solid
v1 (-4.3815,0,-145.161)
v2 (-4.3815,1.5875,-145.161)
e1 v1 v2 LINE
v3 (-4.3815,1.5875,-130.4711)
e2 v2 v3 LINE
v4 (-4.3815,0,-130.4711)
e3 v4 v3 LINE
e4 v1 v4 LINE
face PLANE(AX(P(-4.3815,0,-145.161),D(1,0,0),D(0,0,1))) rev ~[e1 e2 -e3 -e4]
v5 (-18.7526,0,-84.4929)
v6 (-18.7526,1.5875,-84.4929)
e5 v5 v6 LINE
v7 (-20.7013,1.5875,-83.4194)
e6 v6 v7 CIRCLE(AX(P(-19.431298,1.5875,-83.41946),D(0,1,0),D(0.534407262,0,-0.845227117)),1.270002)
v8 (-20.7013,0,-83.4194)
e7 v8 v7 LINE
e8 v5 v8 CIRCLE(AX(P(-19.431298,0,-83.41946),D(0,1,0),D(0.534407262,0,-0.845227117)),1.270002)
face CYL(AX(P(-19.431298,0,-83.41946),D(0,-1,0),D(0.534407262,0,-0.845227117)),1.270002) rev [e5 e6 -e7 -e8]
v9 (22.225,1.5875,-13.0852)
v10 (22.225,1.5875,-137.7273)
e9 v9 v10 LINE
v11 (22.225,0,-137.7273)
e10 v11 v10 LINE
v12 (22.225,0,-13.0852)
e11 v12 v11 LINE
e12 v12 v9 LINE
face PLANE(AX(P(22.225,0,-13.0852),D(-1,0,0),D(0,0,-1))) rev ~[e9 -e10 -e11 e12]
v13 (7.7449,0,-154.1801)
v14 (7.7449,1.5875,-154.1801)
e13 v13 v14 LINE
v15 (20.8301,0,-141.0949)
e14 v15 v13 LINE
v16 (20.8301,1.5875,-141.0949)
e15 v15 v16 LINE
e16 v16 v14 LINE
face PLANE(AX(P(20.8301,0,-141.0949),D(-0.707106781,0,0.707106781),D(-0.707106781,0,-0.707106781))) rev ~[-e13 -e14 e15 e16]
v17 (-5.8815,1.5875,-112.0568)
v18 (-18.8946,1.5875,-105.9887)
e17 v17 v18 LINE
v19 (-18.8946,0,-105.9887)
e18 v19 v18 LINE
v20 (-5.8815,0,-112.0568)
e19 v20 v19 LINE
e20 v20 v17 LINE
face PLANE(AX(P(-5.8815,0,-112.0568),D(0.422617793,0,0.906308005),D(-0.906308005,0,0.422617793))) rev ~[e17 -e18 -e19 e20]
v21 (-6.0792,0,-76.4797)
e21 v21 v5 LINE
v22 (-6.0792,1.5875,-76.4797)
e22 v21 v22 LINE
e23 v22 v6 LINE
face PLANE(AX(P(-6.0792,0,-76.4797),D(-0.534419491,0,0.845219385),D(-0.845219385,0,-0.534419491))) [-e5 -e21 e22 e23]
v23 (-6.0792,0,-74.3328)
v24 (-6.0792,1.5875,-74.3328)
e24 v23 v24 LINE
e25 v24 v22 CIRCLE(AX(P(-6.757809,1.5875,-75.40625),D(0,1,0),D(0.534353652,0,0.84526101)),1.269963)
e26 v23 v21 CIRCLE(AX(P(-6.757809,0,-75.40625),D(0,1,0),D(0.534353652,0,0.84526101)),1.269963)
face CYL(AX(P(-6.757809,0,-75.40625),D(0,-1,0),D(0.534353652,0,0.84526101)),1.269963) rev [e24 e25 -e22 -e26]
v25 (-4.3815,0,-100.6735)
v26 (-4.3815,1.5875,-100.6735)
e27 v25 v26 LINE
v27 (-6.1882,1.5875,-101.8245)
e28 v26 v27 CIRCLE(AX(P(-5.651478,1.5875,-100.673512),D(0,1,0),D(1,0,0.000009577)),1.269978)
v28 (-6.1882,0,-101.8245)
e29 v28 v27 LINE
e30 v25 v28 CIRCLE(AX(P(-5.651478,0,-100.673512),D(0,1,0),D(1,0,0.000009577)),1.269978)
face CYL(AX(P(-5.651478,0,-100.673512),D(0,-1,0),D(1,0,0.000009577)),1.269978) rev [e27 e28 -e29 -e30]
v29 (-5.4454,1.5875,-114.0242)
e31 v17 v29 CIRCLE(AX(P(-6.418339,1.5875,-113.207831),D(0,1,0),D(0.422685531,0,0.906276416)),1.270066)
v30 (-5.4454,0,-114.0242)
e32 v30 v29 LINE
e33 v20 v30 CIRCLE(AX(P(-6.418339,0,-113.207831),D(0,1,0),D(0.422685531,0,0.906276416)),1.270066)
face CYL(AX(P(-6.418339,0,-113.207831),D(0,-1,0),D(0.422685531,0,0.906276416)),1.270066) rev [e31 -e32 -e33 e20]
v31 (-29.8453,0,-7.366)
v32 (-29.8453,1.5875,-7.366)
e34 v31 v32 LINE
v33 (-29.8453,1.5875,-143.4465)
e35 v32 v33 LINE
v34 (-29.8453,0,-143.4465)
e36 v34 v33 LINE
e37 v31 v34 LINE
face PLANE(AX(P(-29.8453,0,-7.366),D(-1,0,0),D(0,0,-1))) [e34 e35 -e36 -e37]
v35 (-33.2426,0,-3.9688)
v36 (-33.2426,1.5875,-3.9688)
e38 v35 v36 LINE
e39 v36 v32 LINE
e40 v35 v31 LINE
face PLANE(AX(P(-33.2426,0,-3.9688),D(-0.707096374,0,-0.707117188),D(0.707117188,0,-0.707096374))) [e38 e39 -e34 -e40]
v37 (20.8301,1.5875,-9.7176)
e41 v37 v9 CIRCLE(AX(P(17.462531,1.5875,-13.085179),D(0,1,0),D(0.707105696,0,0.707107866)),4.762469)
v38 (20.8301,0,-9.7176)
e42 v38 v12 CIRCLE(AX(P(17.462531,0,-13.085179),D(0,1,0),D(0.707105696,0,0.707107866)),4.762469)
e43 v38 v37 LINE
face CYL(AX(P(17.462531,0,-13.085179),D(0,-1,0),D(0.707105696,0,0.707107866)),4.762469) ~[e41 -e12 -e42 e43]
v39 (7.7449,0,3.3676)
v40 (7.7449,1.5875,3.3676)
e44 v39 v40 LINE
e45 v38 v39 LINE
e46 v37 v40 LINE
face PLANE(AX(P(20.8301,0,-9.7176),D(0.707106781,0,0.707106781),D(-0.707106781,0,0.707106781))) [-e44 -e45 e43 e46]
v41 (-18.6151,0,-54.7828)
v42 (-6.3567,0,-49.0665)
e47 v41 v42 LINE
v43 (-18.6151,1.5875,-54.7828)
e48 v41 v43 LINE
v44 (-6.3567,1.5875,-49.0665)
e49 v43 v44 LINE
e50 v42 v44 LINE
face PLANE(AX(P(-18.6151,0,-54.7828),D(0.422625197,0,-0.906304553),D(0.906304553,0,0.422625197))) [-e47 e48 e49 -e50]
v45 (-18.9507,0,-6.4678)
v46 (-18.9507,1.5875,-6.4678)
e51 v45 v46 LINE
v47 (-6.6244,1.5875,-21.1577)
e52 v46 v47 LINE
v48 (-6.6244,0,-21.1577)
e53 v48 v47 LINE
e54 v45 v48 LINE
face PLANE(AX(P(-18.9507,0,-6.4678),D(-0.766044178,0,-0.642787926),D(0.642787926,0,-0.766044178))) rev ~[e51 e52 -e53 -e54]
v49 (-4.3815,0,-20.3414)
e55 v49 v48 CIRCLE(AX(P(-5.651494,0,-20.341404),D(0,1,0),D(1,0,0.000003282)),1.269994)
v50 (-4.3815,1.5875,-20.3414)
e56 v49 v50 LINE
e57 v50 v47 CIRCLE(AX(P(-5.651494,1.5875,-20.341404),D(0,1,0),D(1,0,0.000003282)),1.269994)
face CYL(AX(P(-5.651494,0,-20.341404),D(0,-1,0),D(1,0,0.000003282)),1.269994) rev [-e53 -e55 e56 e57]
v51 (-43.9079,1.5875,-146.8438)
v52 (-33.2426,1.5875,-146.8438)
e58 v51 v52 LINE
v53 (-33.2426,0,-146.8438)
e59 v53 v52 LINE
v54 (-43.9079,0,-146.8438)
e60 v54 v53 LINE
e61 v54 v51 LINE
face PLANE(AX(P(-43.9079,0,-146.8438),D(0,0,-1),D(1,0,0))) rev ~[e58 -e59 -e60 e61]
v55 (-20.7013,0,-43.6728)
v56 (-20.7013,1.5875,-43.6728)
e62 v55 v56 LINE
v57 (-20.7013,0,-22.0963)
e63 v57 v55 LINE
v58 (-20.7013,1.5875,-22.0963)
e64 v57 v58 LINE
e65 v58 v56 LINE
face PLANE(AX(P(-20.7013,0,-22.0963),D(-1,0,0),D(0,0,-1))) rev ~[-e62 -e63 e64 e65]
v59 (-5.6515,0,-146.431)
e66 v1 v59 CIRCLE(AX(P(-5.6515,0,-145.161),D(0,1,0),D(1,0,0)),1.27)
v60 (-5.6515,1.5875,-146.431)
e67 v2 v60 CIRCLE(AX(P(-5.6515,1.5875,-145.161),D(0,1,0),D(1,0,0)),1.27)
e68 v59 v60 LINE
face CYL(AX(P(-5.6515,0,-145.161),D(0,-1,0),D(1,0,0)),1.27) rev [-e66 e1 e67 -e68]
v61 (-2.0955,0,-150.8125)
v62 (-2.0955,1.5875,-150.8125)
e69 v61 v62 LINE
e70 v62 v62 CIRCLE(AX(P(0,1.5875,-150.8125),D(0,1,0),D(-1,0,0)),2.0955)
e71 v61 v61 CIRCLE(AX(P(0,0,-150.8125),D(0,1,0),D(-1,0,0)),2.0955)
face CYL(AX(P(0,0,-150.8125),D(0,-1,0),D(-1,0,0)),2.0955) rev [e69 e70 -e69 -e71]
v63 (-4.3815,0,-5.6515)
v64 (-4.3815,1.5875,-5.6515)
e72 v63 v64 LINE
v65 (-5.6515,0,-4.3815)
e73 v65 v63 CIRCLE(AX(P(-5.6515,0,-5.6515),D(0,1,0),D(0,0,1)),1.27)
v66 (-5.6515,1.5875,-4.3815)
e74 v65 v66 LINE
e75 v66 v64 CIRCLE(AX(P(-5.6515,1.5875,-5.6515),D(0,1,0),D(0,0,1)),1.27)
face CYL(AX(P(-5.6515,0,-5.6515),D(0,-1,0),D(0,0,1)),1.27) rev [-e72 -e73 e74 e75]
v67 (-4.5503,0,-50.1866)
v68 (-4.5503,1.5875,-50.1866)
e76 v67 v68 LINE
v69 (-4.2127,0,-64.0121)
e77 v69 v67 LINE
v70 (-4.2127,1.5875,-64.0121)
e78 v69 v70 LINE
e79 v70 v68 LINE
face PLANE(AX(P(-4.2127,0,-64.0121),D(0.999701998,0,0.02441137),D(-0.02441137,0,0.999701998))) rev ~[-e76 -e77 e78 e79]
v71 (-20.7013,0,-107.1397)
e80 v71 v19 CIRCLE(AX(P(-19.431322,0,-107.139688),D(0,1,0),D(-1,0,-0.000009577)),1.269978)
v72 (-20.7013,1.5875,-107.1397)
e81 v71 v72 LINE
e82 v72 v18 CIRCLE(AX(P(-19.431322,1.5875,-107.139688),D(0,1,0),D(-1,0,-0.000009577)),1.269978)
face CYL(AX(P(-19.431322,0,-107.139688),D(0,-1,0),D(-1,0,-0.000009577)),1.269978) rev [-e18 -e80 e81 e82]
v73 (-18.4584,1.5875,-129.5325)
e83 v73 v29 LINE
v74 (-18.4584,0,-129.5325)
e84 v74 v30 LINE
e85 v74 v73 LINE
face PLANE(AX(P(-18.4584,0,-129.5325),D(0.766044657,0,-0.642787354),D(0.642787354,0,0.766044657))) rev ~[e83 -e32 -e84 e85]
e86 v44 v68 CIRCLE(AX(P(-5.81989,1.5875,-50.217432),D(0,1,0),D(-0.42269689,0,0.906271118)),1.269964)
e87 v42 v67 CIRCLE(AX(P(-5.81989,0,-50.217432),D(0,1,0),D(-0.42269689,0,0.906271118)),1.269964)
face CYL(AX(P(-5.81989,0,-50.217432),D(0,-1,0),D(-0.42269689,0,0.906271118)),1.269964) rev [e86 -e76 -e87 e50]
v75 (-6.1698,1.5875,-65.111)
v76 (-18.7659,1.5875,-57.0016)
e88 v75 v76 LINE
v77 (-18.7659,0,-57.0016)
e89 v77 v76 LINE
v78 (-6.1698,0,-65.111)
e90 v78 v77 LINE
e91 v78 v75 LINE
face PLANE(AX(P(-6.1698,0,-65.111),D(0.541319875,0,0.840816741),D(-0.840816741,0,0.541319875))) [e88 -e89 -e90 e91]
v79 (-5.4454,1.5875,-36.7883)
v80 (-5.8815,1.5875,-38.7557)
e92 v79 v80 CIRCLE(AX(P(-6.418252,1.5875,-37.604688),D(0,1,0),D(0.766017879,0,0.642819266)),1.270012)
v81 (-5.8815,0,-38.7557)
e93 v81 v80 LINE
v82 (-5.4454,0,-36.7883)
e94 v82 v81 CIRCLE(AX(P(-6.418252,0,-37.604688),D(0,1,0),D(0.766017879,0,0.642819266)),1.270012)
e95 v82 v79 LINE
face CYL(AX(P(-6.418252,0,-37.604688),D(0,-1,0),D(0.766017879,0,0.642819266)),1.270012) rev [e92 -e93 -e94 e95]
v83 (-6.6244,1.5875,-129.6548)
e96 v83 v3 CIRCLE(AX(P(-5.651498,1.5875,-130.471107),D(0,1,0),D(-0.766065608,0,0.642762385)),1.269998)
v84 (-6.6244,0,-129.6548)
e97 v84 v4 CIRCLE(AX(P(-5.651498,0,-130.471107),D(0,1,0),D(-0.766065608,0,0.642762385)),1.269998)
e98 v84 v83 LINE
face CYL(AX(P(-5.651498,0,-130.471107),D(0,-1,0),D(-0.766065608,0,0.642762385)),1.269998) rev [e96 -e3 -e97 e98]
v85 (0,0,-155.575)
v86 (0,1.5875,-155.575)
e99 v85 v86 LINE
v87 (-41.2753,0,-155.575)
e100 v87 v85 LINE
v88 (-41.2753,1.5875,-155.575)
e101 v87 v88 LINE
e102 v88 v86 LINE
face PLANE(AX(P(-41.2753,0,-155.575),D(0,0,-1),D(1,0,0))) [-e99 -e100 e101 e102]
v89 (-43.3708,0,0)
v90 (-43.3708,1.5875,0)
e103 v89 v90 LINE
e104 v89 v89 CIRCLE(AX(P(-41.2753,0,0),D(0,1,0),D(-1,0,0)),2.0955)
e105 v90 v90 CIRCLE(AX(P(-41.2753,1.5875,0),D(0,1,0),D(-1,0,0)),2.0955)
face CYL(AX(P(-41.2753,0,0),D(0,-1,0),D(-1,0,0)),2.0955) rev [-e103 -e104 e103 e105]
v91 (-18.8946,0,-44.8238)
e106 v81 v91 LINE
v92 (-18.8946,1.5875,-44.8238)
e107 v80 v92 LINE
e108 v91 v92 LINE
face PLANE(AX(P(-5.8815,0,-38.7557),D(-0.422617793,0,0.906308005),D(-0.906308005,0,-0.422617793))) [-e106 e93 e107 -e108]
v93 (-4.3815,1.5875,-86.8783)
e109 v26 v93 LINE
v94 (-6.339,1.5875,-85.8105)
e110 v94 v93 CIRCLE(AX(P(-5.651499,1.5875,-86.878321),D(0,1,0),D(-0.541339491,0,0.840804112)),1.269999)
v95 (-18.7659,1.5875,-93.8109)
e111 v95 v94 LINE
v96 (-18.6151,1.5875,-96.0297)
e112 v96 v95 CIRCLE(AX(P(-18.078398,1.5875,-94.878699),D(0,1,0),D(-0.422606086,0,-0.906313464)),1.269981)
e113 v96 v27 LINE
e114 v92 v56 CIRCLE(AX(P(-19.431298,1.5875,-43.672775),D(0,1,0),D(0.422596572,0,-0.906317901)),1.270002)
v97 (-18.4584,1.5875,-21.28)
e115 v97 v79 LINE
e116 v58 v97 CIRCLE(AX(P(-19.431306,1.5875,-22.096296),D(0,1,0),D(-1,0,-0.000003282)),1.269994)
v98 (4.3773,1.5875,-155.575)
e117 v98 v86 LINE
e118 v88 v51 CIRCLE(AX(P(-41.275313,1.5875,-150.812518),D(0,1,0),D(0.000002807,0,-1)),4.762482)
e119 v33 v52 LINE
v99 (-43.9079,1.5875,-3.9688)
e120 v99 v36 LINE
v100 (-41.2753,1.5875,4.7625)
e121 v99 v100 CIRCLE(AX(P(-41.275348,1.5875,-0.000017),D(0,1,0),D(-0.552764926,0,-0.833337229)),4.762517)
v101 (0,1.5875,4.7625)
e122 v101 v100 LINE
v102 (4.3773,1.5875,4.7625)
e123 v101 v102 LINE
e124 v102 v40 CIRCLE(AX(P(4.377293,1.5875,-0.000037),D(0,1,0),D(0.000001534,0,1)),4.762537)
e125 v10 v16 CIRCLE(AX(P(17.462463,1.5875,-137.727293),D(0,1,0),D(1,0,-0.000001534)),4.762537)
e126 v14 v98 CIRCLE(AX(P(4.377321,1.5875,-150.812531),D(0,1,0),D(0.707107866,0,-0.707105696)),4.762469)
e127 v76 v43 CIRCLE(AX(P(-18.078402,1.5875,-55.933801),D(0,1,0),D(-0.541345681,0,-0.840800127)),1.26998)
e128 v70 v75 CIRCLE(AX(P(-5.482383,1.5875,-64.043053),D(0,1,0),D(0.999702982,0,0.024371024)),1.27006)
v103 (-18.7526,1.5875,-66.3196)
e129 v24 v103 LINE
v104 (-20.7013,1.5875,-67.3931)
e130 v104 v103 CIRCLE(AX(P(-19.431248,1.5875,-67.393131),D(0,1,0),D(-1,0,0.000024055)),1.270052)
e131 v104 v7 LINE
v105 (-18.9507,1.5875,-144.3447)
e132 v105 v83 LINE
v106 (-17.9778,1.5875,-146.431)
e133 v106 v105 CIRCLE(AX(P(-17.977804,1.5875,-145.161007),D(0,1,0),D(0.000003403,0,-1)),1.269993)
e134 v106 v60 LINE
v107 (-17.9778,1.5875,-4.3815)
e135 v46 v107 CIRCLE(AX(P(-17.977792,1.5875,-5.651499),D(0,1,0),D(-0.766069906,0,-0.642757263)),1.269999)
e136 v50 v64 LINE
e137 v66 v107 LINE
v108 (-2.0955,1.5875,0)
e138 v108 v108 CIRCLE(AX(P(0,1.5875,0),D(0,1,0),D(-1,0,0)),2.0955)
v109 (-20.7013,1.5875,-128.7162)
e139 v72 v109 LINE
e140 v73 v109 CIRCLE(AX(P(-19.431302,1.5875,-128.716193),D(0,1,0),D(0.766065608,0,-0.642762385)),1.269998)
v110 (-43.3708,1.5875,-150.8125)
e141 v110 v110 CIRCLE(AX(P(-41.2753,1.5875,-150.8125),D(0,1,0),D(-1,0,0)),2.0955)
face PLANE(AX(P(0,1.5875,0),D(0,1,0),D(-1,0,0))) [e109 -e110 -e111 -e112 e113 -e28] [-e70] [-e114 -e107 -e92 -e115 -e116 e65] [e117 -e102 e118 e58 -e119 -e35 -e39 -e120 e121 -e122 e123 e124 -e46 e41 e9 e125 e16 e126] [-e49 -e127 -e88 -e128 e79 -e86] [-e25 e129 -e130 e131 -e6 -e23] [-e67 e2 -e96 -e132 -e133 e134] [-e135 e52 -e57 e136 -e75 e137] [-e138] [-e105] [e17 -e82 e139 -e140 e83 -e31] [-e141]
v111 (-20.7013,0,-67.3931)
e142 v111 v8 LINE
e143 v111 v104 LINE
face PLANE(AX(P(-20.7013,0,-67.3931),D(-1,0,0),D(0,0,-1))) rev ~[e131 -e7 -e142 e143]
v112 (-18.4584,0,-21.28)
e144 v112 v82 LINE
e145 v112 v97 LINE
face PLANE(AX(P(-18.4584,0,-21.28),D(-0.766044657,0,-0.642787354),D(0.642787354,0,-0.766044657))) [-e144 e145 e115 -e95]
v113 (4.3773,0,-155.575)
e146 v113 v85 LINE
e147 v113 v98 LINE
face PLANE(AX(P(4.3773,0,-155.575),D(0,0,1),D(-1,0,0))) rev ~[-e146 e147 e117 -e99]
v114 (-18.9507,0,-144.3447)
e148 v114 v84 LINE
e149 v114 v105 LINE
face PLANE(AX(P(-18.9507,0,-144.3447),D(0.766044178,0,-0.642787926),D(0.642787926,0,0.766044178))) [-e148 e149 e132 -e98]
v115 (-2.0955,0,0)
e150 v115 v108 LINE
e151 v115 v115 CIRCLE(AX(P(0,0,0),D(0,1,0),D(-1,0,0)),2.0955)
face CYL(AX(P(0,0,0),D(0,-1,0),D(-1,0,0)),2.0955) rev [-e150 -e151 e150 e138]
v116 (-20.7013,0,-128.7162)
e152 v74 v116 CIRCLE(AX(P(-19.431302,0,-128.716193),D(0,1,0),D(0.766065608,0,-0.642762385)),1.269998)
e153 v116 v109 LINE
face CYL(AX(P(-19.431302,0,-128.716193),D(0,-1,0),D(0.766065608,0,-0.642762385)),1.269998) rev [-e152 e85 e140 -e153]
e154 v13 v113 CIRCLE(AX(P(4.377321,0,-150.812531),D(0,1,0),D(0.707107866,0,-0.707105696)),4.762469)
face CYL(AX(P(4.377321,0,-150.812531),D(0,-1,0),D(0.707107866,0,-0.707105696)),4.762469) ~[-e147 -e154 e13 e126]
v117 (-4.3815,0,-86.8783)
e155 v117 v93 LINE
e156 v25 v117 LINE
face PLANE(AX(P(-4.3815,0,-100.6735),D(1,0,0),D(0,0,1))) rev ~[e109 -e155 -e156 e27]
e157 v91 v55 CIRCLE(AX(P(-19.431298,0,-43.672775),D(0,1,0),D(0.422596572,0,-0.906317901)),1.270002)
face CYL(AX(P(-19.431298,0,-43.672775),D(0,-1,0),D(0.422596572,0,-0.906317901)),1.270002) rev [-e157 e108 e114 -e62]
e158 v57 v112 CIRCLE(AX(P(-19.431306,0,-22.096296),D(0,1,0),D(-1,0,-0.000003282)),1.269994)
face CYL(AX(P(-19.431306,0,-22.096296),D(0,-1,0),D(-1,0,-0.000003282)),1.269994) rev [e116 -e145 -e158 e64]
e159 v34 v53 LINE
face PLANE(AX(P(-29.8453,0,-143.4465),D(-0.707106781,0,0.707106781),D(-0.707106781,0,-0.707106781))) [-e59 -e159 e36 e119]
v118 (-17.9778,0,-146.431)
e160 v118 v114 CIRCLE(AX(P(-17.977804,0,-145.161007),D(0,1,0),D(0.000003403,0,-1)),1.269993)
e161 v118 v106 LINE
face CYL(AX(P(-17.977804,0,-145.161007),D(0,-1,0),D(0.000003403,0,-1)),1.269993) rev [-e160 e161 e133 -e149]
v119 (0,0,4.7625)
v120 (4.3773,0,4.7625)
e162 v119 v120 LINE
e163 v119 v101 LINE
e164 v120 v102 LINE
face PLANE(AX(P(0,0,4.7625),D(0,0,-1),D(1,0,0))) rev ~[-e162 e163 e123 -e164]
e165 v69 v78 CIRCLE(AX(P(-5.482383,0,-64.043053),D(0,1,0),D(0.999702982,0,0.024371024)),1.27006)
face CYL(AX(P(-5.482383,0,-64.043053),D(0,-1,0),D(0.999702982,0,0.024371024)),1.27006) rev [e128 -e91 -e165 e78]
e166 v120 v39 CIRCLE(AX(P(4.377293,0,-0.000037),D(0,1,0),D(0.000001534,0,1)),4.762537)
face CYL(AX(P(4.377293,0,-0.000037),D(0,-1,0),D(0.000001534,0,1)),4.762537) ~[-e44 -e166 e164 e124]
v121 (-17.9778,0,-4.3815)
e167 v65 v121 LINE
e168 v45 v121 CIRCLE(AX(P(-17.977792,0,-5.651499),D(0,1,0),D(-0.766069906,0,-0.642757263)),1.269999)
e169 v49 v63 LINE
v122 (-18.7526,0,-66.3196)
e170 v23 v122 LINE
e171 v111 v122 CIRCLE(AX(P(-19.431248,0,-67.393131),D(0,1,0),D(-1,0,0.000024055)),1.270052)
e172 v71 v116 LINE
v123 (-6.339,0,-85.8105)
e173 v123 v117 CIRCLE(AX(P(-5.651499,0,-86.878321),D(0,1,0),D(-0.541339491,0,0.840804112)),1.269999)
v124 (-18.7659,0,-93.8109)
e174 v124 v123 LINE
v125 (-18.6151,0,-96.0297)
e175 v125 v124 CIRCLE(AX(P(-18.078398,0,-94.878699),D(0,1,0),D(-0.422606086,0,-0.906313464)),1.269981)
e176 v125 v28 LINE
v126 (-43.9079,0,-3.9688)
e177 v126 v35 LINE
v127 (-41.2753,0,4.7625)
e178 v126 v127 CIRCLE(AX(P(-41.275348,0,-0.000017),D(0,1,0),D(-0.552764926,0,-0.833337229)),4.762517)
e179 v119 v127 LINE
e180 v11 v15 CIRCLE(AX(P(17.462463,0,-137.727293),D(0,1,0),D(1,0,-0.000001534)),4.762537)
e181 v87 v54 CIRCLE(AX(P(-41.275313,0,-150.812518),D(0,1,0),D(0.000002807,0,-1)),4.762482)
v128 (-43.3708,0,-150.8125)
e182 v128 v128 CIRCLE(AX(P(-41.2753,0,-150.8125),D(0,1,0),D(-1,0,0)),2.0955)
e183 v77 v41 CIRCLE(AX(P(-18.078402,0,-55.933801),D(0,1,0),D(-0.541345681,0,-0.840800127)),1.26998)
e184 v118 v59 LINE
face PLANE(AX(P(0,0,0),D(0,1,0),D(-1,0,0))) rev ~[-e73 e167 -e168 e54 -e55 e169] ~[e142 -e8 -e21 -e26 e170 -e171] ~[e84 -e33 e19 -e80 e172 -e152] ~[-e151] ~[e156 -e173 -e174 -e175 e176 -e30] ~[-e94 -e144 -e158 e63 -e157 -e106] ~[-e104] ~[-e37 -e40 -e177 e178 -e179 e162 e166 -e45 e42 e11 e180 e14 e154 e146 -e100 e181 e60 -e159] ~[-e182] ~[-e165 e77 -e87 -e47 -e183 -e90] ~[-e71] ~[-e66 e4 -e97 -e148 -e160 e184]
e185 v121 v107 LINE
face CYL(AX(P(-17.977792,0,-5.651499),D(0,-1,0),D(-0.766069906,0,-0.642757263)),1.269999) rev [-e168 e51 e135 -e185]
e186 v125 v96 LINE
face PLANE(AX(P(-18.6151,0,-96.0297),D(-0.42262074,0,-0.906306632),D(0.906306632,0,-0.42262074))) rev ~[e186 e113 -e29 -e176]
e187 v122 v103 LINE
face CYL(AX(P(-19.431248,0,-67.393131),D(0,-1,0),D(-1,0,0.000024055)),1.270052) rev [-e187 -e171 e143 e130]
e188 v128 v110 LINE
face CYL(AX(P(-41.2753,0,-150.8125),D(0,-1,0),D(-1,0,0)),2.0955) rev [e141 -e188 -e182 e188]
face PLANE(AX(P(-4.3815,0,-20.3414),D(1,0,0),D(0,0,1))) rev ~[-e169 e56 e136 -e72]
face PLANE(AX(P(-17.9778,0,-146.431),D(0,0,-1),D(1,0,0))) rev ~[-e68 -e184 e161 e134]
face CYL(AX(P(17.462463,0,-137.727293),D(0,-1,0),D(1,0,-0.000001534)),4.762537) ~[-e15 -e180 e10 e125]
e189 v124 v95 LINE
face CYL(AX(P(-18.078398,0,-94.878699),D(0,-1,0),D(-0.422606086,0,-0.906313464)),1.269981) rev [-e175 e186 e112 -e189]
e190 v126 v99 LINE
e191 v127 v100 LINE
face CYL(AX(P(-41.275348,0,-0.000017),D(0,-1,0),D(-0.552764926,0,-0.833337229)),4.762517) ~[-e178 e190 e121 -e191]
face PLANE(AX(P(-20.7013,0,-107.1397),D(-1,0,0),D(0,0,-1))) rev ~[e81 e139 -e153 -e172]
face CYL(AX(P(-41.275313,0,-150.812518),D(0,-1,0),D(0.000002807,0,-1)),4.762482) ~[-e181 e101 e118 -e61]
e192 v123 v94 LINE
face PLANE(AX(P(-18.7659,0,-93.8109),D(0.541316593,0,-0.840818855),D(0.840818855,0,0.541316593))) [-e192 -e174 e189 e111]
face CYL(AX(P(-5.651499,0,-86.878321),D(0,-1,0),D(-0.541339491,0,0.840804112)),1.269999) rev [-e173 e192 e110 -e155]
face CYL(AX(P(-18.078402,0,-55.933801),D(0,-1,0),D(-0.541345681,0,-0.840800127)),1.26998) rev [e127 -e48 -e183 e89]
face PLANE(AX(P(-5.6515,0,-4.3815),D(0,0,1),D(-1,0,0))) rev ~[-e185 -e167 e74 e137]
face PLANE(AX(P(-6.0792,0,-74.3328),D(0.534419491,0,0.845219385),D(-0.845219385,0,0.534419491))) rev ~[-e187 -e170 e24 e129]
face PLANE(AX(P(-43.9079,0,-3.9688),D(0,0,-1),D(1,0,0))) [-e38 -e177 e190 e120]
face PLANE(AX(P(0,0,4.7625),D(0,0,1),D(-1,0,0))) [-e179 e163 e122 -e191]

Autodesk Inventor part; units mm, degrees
ref_plane "YZ Plane" through (0, 0, 0) normal (1, 0, 0) x (0, 1, 0)
ref_plane "XZ Plane" through (0, 0, 0) normal (0, 1, 0) x (-1, 0, 0)
ref_plane "XY Plane" through (0, 0, 0) normal (0, 0, 1) x (1, 0, 0)
sketch "Sketch1" plane through (0, 0, 0) normal (0, 1, 0) x (-1, 0, 0)
  circle A0 centre (0, 0) radius 2.0955
  circle A1 centre (41.2753, 0) radius 2.0955
  circle A2 centre (0, -150.8125) radius 2.0955
  circle A3 centre (41.2753, -150.8125) radius 2.0955
  arc A4 (43.9079, -3.9688) -> (41.2753, 4.7625) centre (41.2753, 0) ccw
  arc A5 (41.2753, -155.575) -> (43.9079, -146.8438) centre (41.2753, -150.8125) ccw
  line L0 (29.8453, -7.366) -> (29.8453, -143.4465)
  line L1 (41.2753, -155.575) -> (0, -155.575)
  line L2 (0, 4.7625) -> (41.2753, 4.7625)
  line L3 (33.2426, -3.9688) -> (29.8453, -7.366)
  line L4 (29.8453, -143.4465) -> (33.2426, -146.8438)
  line L5 (17.9778, -146.431) -> (5.6515, -146.431)
  line L6 (5.6515, -4.3815) -> (17.9778, -4.3815)
  line L7 (18.9507, -6.4678) -> (6.6244, -21.1577)
  line L8 (20.7013, -4.3815) -> (39.8776, -4.3815) construction
  line L9 (18.4584, -21.28) -> (5.4454, -36.7883)
  line L10 (5.8815, -38.7557) -> (18.8946, -44.8238)
  line L11 (4.3815, -38.0562) -> (18.7398, -38.0562) construction
  line L12 (18.6151, -54.7828) -> (6.3567, -49.0665)
  line L13 (6.1698, -65.111) -> (18.7659, -57.0016)
  line L14 (18.9507, -144.3447) -> (6.6244, -129.6548)
  line L15 (20.7013, -146.431) -> (39.8776, -146.431) construction
  line L16 (18.4584, -129.5325) -> (5.4454, -114.0242)
  line L17 (5.8815, -112.0568) -> (18.8946, -105.9887)
  line L18 (4.3815, -112.7563) -> (18.7398, -112.7563) construction
  line L19 (18.6151, -96.0297) -> (6.1882, -101.8245)
  line L20 (18.7659, -93.8109) -> (6.339, -85.8105)
  line L21 (20.7013, -95.0569) -> (35.4808, -95.0569) construction
  line L22 (6.0792, -76.4797) -> (18.7526, -84.4929)
  line L23 (6.0792, -74.3328) -> (18.7526, -66.3196)
  line L24 (4.3815, -20.3414) -> (4.3815, -5.6515)
  line L25 (20.7013, -22.0963) -> (20.7013, -43.6728)
  line L26 (4.2127, -64.0121) -> (4.5503, -50.1866)
  line L27 (20.7013, -67.3931) -> (20.7013, -83.4194)
  line L28 (20.7013, -107.1397) -> (20.7013, -128.7162)
  line L29 (4.3815, -145.161) -> (4.3815, -130.4711)
  line L30 (4.3815, -100.6735) -> (4.3815, -86.8783)
  arc A6 (4.3815, -20.3414) -> (6.6244, -21.1577) centre (5.6515, -20.3414) ccw
  arc A7 (5.6515, -4.3815) -> (4.3815, -5.6515) centre (5.6515, -5.6515) ccw
  arc A8 (18.9507, -6.4678) -> (17.9778, -4.3815) centre (17.9778, -5.6515) ccw
  arc A9 (20.7013, -22.0963) -> (18.4584, -21.28) centre (19.4313, -22.0963) ccw
  arc A10 (5.4454, -36.7883) -> (5.8815, -38.7557) centre (6.4183, -37.6047) ccw
  arc A11 (18.8946, -44.8238) -> (20.7013, -43.6728) centre (19.4313, -43.6728) ccw
  arc A12 (6.3567, -49.0665) -> (4.5503, -50.1866) centre (5.8199, -50.2176) ccw
  arc A13 (4.2127, -64.0121) -> (6.1698, -65.111) centre (5.4823, -64.0431) ccw
  arc A14 (18.7659, -57.0016) -> (18.6151, -54.7828) centre (18.0784, -55.9338) ccw
  arc A15 (6.0792, -74.3328) -> (6.0792, -76.4797) centre (6.7579, -75.4063) ccw
  arc A16 (18.7526, -84.4929) -> (20.7013, -83.4194) centre (19.4313, -83.4194) ccw
  arc A17 (20.7013, -67.3931) -> (18.7526, -66.3196) centre (19.4313, -67.3931) ccw
  arc A18 (6.339, -85.8105) -> (4.3815, -86.8783) centre (5.6515, -86.8783) ccw
  arc A19 (18.6151, -96.0297) -> (18.7659, -93.8109) centre (18.0784, -94.8787) ccw
  arc A20 (4.3815, -100.6735) -> (6.1882, -101.8245) centre (5.6515, -100.6735) ccw
  arc A21 (20.7013, -107.1397) -> (18.8946, -105.9887) centre (19.4313, -107.1397) ccw
  arc A22 (5.8815, -112.0568) -> (5.4454, -114.0242) centre (6.4183, -113.2078) ccw
  arc A23 (18.4584, -129.5325) -> (20.7013, -128.7162) centre (19.4313, -128.7162) ccw
  arc A24 (6.6244, -129.6548) -> (4.3815, -130.4711) centre (5.6515, -130.4711) ccw
  arc A25 (4.3815, -145.161) -> (5.6515, -146.431) centre (5.6515, -145.161) ccw
  arc A26 (17.9778, -146.431) -> (18.9507, -144.3447) centre (17.9778, -145.161) ccw
  line L31 (0, 4.7625) -> (-4.3773, 4.7625)
  line L32 (-22.225, -13.0852) -> (-22.225, -137.7273)
  line L33 (-4.3773, -155.575) -> (0, -155.575)
  line L34 (43.9079, -3.9688) -> (33.2426, -3.9688)
  line L35 (43.9079, -146.8438) -> (33.2426, -146.8438)
  line L36 (-20.8301, -9.7176) -> (-7.7449, 3.3676)
  line L37 (-20.8301, -141.0949) -> (-7.7449, -154.1801)
  arc A27 (-4.3773, 4.7625) -> (-7.7449, 3.3676) centre (-4.3773, 0) ccw
  arc A28 (-20.8301, -9.7176) -> (-22.225, -13.0852) centre (-17.4625, -13.0852) ccw
  arc A29 (-22.225, -137.7273) -> (-20.8301, -141.0949) centre (-17.4625, -137.7273) ccw
  arc A30 (-7.7449, -154.1801) -> (-4.3773, -155.575) centre (-4.3773, -150.8125) ccw
  point P0 (29.8453, -4.7625)
  point P1 (29.8453, -146.05)
  point P2 (32.8298, -4.3815)
  point P3 (32.4488, -146.05)
  point P4 (-17.4625, 4.7625)
  point P5 (-22.225, 0)
  point P6 (-17.4625, -155.575)
  point P7 (-22.225, -150.8125)
  point P8 (-22.225, 4.7625)
  point P9 (-22.225, -11.1125)
  point P10 (-6.35, 4.7625)
  point P11 (-22.225, 4.7625)
  point P12 (-22.225, -139.7)
  point P13 (-6.35, -155.575)
  point P14 (-22.225, -155.575)
  point P15 (4.3815, -57.0993)
  dimension "d0" = 4.191
  dimension "d3" = 9.525
  dimension "d20" = 1.27
  dimension "d24" = 22.225
  dimension "d27" = 15.875
  dimension "d28" = 15.875
  dimension "d29" = 15.875
  dimension "d30" = 15.875
  dimension "d31" = 4.7625
extrude "Extrusion1" add sketch "Sketch1" along normal blind 1.5875
equation "\"d28\" = d27"
equation "\"d29\" = d27"
equation "\"d30\" = d29"
equation "\"BendRadius\" = Thickness"
equation "\"BendReliefWidth\" = Thickness"
equation "\"BendReliefDepth\" = 0.5 * Thickness"
equation "\"CornerReliefSize\" = 4 * Thickness"
equation "\"MinimumRemnant\" = 2 * Thickness"
equation "\"TransitionRadius\" = BendRadius"
equation "\"JacobiRadiusSize\" = BendRadius"
equation "\"GapSize\" = Thickness"
equation "\"Thickness\" = 1.5875"
properties part number "ramp" material "Acetal Resin, White"
